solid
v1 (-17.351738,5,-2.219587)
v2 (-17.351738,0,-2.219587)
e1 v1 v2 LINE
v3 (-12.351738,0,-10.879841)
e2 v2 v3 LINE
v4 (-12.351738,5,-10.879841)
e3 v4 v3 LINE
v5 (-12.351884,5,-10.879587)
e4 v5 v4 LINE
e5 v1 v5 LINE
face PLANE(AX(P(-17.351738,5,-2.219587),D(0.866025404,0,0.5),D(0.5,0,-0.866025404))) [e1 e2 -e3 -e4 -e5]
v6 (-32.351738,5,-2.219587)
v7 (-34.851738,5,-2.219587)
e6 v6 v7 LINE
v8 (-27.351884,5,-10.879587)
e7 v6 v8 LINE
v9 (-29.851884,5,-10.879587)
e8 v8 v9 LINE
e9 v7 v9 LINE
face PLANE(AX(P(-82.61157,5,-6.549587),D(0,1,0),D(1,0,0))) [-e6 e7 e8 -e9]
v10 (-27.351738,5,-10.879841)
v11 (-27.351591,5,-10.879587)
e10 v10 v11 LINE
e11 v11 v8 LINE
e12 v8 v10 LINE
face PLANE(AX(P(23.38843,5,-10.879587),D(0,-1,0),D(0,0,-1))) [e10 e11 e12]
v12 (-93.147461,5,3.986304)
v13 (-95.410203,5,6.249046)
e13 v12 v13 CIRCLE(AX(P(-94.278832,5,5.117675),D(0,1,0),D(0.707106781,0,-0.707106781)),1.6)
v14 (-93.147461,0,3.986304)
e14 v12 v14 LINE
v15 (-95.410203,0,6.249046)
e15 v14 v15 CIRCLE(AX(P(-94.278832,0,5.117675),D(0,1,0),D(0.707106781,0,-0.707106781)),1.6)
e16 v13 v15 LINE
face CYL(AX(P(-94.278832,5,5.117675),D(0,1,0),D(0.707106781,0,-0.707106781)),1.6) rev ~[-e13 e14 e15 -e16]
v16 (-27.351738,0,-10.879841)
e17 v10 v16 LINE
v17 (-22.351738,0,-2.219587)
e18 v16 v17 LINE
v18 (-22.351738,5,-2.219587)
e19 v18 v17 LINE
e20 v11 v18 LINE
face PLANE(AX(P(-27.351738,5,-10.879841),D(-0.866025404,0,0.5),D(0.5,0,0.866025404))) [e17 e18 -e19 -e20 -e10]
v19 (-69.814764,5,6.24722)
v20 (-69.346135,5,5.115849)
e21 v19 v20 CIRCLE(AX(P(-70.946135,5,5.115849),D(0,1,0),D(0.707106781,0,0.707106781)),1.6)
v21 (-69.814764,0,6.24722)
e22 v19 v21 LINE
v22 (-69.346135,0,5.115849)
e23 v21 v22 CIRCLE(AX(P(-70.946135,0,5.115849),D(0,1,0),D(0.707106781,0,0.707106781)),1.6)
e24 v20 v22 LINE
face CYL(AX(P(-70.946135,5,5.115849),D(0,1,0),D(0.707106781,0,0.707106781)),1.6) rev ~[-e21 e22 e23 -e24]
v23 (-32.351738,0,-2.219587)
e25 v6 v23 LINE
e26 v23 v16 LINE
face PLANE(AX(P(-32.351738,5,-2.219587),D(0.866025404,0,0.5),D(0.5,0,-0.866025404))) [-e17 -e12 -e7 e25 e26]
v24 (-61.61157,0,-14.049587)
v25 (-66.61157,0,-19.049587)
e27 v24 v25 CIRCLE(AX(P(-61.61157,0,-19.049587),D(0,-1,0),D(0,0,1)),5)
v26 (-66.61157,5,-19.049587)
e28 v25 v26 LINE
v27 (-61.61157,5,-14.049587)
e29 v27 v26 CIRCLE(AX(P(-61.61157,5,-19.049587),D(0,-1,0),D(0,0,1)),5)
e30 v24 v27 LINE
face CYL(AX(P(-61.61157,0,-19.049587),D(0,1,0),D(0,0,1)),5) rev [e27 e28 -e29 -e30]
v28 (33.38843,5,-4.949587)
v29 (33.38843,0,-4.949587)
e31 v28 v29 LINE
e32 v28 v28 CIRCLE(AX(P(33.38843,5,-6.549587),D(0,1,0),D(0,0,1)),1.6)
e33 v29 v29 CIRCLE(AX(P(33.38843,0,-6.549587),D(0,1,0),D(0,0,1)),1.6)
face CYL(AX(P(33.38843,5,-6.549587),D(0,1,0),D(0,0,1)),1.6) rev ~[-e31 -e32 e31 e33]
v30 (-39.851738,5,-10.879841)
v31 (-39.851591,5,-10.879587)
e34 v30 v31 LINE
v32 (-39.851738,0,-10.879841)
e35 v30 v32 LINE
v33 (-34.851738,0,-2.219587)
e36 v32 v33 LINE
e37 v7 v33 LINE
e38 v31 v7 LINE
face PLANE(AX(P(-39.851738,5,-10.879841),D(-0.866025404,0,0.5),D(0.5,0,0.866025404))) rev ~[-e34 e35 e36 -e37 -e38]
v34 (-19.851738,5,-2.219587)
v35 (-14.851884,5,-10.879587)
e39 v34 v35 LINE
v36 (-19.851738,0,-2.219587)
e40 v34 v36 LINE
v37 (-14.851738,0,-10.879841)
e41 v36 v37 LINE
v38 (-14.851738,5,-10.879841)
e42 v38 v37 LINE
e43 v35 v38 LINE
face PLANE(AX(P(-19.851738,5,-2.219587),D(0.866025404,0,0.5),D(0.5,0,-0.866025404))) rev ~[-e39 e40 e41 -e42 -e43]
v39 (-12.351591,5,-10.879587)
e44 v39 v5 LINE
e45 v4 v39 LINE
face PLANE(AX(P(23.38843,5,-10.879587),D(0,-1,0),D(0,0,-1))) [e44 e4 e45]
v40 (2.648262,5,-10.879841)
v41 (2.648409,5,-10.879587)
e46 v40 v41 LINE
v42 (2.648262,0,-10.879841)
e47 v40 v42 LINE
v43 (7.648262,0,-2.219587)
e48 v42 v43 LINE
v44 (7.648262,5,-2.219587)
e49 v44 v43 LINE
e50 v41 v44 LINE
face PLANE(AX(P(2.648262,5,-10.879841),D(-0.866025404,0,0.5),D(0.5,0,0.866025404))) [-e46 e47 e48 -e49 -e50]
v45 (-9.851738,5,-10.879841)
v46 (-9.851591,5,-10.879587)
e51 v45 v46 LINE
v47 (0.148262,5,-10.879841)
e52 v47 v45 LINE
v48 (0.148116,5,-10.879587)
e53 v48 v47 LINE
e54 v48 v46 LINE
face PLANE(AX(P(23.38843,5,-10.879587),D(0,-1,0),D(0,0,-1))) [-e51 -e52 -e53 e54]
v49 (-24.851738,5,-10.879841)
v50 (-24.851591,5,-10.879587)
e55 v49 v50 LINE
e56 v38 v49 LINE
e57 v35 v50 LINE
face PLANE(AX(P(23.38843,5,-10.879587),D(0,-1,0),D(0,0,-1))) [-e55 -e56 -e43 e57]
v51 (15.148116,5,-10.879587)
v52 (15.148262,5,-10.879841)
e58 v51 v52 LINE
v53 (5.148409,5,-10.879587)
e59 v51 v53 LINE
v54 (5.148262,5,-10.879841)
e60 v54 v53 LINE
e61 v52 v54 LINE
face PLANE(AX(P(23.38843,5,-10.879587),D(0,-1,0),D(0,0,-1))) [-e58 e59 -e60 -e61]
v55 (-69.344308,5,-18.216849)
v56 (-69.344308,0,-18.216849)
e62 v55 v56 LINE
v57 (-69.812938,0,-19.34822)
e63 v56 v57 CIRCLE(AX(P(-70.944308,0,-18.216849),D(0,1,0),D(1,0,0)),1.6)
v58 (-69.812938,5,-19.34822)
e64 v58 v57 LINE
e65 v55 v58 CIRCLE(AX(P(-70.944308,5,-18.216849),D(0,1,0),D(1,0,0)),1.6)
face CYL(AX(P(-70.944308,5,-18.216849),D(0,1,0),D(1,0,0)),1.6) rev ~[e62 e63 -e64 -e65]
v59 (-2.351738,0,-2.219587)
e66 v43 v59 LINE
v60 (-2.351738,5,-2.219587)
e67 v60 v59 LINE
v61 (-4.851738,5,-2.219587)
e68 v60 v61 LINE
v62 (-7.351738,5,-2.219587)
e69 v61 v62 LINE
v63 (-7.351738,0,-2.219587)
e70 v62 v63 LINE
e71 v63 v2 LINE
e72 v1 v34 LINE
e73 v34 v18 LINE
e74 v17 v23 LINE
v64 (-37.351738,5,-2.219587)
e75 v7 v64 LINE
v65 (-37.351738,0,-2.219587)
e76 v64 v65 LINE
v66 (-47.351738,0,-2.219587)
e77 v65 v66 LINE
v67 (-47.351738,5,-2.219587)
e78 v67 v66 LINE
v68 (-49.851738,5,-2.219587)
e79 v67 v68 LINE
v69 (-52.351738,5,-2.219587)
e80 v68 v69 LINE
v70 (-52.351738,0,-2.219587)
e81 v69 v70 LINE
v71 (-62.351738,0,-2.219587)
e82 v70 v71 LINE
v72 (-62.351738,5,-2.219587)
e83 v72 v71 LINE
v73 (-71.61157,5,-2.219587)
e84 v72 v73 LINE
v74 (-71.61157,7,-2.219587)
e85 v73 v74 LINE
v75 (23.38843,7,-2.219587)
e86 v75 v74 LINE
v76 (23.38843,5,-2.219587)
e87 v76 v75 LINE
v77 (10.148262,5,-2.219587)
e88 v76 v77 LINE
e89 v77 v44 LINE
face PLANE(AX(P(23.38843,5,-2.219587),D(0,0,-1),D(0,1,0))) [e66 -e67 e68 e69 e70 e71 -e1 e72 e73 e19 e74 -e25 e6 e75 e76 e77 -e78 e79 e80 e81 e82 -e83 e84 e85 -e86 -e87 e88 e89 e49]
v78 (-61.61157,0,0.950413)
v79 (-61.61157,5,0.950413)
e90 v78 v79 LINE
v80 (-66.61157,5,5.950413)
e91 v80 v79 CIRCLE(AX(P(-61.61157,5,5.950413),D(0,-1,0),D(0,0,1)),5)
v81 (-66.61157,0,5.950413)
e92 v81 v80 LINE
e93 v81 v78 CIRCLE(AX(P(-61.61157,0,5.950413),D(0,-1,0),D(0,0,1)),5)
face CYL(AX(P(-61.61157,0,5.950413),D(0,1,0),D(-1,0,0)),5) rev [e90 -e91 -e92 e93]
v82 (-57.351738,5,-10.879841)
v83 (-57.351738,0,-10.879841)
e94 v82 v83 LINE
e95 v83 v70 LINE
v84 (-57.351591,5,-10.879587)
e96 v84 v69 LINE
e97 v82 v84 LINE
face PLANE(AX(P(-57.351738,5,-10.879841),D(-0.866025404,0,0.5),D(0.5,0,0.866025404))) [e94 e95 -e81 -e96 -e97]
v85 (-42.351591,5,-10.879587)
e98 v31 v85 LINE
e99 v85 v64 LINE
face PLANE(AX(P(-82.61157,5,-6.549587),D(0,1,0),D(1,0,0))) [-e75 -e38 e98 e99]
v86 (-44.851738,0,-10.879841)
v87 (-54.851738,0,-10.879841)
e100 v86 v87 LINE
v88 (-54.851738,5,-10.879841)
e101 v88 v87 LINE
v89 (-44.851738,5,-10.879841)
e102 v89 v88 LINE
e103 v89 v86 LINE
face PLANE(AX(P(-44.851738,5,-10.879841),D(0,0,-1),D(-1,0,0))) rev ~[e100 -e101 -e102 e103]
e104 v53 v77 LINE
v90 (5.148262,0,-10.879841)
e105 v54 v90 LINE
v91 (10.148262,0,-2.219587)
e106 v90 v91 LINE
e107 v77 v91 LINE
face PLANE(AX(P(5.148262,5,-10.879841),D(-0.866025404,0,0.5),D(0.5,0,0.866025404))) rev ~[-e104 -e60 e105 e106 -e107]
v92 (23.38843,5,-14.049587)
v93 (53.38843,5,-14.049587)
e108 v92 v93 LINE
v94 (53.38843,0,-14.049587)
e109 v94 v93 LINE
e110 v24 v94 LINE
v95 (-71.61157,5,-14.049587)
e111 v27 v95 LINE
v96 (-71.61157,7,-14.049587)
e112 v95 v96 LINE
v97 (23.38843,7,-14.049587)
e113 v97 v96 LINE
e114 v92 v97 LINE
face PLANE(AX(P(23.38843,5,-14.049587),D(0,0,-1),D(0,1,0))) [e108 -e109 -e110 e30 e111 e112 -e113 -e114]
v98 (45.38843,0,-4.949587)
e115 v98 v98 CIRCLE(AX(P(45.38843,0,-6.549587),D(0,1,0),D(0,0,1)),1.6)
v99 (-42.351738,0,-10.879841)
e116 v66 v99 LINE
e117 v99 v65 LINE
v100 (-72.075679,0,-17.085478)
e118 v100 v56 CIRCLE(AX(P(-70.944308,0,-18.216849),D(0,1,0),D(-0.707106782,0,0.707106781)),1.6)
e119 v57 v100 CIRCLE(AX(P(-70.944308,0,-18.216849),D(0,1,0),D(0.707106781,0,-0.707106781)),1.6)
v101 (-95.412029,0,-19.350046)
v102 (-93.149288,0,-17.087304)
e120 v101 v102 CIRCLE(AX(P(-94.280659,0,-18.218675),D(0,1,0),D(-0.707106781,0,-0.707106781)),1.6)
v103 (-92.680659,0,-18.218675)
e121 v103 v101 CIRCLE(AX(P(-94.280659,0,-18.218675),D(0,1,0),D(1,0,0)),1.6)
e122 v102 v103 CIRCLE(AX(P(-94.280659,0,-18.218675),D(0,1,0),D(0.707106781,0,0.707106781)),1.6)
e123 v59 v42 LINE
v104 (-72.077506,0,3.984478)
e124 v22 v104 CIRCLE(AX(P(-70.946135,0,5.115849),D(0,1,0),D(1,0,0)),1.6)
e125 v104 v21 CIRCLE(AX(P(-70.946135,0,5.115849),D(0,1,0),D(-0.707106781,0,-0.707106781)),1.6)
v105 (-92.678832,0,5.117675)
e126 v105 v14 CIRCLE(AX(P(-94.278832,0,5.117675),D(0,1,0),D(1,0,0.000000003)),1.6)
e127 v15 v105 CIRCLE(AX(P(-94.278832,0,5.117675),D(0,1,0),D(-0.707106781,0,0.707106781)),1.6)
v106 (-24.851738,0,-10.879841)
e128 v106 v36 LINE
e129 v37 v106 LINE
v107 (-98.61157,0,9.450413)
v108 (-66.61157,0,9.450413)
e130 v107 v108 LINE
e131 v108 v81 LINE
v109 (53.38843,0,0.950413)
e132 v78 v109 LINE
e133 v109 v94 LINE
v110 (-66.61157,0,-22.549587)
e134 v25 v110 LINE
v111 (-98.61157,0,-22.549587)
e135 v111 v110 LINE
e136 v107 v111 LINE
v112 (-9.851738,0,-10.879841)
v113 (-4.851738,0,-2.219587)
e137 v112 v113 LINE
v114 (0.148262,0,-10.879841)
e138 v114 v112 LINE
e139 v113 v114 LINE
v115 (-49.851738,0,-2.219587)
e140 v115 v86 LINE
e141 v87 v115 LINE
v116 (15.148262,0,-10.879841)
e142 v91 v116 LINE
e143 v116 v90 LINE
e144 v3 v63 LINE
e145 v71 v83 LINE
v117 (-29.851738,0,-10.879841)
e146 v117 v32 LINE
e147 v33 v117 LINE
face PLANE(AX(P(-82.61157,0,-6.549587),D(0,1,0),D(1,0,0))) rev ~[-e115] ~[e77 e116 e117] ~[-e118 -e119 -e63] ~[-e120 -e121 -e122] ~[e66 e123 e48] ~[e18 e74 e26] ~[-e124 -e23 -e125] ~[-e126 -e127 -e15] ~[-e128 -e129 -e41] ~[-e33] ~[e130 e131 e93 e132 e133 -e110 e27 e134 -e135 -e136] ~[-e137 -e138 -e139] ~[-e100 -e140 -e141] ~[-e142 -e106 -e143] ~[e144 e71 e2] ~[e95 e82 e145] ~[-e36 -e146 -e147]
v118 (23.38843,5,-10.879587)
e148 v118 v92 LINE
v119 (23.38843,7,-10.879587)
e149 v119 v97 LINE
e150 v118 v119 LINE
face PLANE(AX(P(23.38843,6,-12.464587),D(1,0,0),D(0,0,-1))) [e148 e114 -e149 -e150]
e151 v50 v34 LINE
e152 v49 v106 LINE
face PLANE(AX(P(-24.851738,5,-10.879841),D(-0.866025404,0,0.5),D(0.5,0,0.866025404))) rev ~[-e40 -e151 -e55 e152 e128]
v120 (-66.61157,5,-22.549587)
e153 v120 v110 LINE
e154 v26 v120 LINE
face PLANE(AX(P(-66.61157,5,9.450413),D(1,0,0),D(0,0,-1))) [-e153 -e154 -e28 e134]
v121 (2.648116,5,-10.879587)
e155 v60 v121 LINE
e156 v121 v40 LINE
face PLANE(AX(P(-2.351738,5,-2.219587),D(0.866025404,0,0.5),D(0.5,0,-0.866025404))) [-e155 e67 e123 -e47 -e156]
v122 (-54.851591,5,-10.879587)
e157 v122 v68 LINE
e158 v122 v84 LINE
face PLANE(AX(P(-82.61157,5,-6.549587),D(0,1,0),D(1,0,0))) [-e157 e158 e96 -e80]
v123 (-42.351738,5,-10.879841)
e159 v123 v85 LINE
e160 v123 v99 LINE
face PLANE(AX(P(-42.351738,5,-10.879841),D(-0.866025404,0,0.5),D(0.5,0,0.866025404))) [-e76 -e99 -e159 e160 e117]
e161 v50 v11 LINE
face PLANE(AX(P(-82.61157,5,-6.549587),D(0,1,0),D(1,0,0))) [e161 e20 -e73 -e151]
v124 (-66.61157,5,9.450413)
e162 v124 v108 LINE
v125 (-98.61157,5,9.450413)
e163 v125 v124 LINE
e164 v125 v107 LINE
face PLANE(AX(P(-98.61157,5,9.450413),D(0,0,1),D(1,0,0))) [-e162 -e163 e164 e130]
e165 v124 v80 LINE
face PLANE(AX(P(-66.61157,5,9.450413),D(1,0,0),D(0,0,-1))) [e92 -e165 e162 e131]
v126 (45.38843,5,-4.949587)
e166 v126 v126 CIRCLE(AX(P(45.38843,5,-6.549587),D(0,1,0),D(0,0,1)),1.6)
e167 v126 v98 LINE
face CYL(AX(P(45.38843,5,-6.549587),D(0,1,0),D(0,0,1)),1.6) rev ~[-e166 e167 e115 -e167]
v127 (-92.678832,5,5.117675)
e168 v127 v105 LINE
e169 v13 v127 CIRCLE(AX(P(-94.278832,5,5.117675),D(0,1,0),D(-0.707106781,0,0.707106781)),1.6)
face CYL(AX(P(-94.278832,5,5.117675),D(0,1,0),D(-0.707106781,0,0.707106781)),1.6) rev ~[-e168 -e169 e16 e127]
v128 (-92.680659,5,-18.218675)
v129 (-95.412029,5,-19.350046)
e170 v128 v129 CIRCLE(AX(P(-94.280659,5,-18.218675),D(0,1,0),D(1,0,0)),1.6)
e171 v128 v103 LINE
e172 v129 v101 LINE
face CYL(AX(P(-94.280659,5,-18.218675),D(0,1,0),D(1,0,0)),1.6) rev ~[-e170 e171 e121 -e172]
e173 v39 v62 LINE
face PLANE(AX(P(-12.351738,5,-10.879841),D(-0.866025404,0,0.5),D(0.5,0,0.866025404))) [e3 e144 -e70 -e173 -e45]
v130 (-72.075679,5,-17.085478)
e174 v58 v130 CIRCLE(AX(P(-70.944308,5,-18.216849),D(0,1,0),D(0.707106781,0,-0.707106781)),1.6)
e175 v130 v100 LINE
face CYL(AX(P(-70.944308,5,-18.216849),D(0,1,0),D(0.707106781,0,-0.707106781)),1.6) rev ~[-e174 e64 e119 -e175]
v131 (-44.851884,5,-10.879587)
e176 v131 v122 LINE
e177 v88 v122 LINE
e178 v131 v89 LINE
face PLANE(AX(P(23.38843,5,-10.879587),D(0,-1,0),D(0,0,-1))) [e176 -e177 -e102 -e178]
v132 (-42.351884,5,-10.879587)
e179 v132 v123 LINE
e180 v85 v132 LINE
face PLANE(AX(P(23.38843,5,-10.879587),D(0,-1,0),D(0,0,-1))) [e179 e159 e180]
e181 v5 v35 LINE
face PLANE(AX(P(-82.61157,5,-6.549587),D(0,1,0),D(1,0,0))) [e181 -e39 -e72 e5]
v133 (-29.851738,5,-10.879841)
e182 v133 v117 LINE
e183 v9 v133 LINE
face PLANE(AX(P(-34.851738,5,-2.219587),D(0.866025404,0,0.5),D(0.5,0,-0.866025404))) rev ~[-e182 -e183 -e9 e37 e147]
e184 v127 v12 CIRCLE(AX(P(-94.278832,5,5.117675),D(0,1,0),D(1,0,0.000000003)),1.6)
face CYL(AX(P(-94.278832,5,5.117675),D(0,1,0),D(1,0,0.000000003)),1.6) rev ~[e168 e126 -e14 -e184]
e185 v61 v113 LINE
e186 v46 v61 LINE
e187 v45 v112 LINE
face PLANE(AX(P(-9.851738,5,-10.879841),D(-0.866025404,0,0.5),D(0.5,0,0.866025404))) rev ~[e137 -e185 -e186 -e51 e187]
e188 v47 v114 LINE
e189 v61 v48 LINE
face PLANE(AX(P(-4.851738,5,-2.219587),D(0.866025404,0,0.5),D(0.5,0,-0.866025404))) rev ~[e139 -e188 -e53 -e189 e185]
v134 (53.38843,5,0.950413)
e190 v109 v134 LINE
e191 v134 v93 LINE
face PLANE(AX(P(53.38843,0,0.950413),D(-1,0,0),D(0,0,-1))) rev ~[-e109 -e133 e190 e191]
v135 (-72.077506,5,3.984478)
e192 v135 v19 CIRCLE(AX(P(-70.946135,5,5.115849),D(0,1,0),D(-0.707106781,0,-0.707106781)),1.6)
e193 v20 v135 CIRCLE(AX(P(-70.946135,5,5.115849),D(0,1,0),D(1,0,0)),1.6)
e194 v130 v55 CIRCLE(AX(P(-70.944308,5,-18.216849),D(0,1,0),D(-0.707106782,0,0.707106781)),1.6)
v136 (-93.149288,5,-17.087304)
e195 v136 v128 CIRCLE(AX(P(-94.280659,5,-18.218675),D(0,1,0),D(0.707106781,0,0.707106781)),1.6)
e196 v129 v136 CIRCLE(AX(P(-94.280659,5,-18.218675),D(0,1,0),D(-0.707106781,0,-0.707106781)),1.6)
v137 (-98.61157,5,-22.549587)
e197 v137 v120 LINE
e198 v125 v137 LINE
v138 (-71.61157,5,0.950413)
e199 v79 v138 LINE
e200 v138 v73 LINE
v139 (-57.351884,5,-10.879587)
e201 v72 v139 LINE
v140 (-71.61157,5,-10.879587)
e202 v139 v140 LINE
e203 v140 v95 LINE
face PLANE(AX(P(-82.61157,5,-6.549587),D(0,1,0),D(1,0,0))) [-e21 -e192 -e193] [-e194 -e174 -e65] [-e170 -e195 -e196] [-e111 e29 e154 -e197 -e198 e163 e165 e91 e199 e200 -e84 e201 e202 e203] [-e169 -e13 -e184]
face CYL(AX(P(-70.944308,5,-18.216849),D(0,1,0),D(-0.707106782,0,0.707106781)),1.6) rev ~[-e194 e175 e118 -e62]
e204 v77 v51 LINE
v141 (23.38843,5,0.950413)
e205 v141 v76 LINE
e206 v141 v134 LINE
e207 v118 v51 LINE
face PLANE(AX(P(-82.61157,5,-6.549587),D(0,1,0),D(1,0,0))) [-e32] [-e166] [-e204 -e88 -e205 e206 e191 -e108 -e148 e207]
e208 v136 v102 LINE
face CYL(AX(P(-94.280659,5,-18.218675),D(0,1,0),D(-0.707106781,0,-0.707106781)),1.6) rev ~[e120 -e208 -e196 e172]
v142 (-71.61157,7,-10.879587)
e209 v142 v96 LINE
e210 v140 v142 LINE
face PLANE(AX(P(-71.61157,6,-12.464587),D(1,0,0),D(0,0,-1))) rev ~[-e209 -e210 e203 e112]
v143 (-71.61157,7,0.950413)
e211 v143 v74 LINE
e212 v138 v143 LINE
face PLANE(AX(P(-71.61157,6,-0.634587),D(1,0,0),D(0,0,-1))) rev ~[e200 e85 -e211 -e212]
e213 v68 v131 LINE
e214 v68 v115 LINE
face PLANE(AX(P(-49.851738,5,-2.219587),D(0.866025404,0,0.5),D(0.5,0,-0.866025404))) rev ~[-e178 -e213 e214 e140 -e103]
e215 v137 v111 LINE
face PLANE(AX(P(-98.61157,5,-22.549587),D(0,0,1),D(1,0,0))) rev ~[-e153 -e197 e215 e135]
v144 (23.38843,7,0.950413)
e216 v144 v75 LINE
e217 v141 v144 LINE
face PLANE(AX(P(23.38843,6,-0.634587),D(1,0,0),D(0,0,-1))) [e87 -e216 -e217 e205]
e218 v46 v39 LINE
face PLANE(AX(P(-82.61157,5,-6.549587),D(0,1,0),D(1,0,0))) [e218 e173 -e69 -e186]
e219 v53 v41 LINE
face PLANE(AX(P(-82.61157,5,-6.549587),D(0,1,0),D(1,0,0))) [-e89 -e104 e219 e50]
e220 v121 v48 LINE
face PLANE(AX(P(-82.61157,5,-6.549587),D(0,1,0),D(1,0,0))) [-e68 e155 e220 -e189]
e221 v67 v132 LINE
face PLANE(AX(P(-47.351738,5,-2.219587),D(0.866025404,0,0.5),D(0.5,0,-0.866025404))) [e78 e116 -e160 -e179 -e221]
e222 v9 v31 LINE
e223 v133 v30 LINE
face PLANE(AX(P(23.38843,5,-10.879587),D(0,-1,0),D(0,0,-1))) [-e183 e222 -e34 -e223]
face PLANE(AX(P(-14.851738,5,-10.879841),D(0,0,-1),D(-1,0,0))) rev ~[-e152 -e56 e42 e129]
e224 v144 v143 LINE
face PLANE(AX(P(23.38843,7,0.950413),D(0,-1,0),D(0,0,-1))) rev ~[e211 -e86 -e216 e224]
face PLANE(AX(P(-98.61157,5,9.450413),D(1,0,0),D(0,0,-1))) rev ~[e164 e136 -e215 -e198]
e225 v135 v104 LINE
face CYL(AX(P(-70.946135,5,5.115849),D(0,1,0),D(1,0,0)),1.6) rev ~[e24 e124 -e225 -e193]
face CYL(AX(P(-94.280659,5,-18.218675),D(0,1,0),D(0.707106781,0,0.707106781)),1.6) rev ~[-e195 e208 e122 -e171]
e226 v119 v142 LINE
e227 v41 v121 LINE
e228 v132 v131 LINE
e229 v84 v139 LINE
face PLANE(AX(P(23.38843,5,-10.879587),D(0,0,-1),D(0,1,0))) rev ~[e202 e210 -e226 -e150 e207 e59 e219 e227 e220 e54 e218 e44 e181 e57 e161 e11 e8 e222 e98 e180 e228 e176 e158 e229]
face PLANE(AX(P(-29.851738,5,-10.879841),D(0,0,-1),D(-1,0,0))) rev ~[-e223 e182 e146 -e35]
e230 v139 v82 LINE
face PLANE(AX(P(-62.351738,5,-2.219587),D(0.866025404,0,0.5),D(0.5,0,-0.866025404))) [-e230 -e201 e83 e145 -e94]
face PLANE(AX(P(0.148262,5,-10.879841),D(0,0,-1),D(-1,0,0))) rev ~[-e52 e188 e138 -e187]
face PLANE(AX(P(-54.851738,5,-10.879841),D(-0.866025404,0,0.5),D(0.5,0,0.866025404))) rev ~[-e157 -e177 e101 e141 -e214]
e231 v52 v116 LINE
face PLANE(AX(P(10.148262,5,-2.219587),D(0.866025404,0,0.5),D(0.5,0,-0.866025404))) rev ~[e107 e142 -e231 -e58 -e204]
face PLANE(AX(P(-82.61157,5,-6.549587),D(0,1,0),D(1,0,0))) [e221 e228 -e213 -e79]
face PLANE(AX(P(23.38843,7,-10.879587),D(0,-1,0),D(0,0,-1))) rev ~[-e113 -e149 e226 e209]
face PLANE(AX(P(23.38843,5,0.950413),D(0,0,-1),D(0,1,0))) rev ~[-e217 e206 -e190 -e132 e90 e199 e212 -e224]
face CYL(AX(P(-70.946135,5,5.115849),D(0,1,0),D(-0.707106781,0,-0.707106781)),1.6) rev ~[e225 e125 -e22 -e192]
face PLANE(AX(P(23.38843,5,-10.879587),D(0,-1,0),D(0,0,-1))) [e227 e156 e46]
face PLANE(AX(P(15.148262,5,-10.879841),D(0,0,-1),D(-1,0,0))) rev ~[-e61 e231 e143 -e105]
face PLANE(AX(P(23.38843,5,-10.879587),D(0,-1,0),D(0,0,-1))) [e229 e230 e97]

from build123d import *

# Parameters (mm, degrees)
SKETCH_1_W          = 120
SKETCH_1_H          = 15
EXTRUDE_1_DEPTH     = 5
SKETCH_2_R          = 1.6
CUT_EXTRUDE_1_DEPTH = 10
SKETCH_3_W          = 32
SKETCH_3_H          = 32
EXTRUDE_2_DEPTH     = 5
CUT_EXTRUDE_2_DEPTH = 7.5
FILLET_2_R          = 5
FILLET_4_R          = 5
CUT_EXTRUDE_3_DEPTH = 10
SKETCH_12_W         = 3.17
SKETCH_12_H         = 2
EXTRUDE_4_DEPTH     = 95


with BuildPart() as part:
    # Эскиз1 → Бобышка-Вытянуть1 (new body)
    with BuildSketch(Plane(origin=(0, 0, 0), x_dir=(1, 0, 0), z_dir=(0, 1, 0))):
        with Locations((-6.611570248, 6.549586777)):
            Rectangle(SKETCH_1_W, SKETCH_1_H)
    extrude(amount=EXTRUDE_1_DEPTH)

    # Эскиз2 → Вырез-Вытянуть1 (cut)
    with BuildSketch(Plane(origin=(0, 5, 0), x_dir=(1, 0, 0), z_dir=(0, 1, 0))):
        with Locations(Location((45.388429752, 6.549586777, 0), (0, 0, 270))):
            Circle(SKETCH_2_R)
        with Locations(Location((33.388429752, 6.549586777, 0), (0, 0, 270))):
            Circle(SKETCH_2_R)
    extrude(amount=-CUT_EXTRUDE_1_DEPTH, mode=Mode.SUBTRACT)

    # Эскиз3 → Бобышка-Вытянуть2 (add)
    with BuildSketch(Plane(origin=(0, 5, 0), x_dir=(1, 0, 0), z_dir=(0, 1, 0))):
        with Locations((-82.611570248, 6.549586777)):
            Rectangle(SKETCH_3_W, SKETCH_3_H)
    extrude(amount=-EXTRUDE_2_DEPTH)

    # Эскиз4 → Вырез-Вытянуть2 (cut)
    with BuildSketch(Plane(origin=(0, 5, 0), x_dir=(1, 0, 0), z_dir=(0, 1, 0))):
        with BuildLine():
            ThreePointArc((-95.412029446, 19.350045975), (-95.412029446, 17.087304275), (-93.149287746, 17.087304275))
            Line((-93.149287746, 17.087304275), (-95.412029446, 19.350045975))
        make_face()
        with BuildLine():
            Line((-95.412029446, 19.350045975), (-93.149287746, 17.087304275))
            ThreePointArc((-93.149287746, 17.087304275), (-92.802451344, 17.606381633), (-92.680658596, 18.218675125))
            ThreePointArc((-92.680658596, 18.218675125), (-93.668365104, 19.696882377), (-95.412029446, 19.350045975))
        make_face()
        with BuildLine():
            ThreePointArc((-69.812937508, 19.348219516), (-72.075679208, 19.348219516), (-72.075679208, 17.085477817))
            Line((-72.075679208, 17.085477817), (-69.812937508, 19.348219516))
        make_face()
        with BuildLine():
            Line((-69.812937508, 19.348219516), (-72.075679208, 17.085477817))
            ThreePointArc((-72.075679208, 17.085477817), (-70.332014867, 16.738641414), (-69.344308358, 18.216848666))
            ThreePointArc((-69.344308358, 18.216848666), (-69.466101106, 18.829142158), (-69.812937508, 19.348219516))
        make_face()
        with BuildLine():
            ThreePointArc((-93.147461288, -3.986304263), (-95.410202987, -3.986304263), (-95.410202987, -6.249045963))
            Line((-95.410202987, -6.249045963), (-93.147461288, -3.986304263))
        make_face()
        with BuildLine():
            Line((-93.147461288, -3.986304263), (-95.410202987, -6.249045963))
            ThreePointArc((-95.410202987, -6.249045963), (-93.666538646, -6.595882365), (-92.678832138, -5.117675113))
            ThreePointArc((-92.678832138, -5.117675113), (-92.800624885, -4.505381621), (-93.147461288, -3.986304263))
        make_face()
        with BuildLine():
            ThreePointArc((-69.346134817, -5.115848654), (-70.333841325, -3.637641402), (-72.077505667, -3.984477805))
            Line((-72.077505667, -3.984477805), (-69.814763967, -6.247219504))
            ThreePointArc((-69.814763967, -6.247219504), (-69.467927565, -5.728142146), (-69.346134817, -5.115848654))
        make_face()
        with BuildLine():
            Line((-69.814763967, -6.247219504), (-72.077505667, -3.984477805))
            ThreePointArc((-72.077505667, -3.984477805), (-72.077505667, -6.247219504), (-69.814763967, -6.247219504))
        make_face()
    extrude(amount=-CUT_EXTRUDE_2_DEPTH, mode=Mode.SUBTRACT)

    # Скругление2
    fillet_2_edges = [part.edges().sort_by_distance(p)[0] for p in [
        (-66.611570248, 2.5, 0.950413223),
    ]]
    fillet(fillet_2_edges, radius=FILLET_2_R)

    # Скругление4
    fillet_4_edges = [part.edges().sort_by_distance(p)[0] for p in [
        (-66.611570248, 2.5, -14.049586777),
    ]]
    fillet(fillet_4_edges, radius=FILLET_4_R)

    # Эскиз6 → Вырез-Вытянуть3 (cut)
    with BuildSketch(Plane(origin=(0, 5, 0), x_dir=(1, 0, 0), z_dir=(0, 1, 0))):
        Polygon((-62.351737512, 2.219586777), (-57.351737512, 10.879840815), (-52.351737512, 2.219586777), align=None)
        Polygon((-47.351737512, 2.219586777), (-42.351737512, 10.879840815), (-37.351737512, 2.219586777), align=None)
        Polygon((-32.351737512, 2.219586777), (-27.351737512, 10.879840815), (-22.351737512, 2.219586777), align=None)
        Polygon((-17.351737512, 2.219586777), (-12.351737512, 10.879840815), (-7.351737512, 2.219586777), align=None)
        Polygon((-2.351737512, 2.219586777), (2.648262488, 10.879840815), (7.648262488, 2.219586777), align=None)
        Polygon((-54.851737512, 10.879840815), (-49.851737512, 2.219586777), (-44.851737512, 10.879840815), align=None)
        Polygon((-39.851737512, 10.879840815), (-34.851737512, 2.219586777), (-29.851737512, 10.879840815), align=None)
        Polygon((-24.851737512, 10.879840815), (-19.851737512, 2.219586777), (-14.851737512, 10.879840815), align=None)
        Polygon((-9.851737512, 10.879840815), (-4.851737512, 2.219586777), (0.148262488, 10.879840815), align=None)
        Polygon((5.148262488, 10.879840815), (10.148262488, 2.219586777), (15.148262488, 10.879840815), align=None)
    extrude(amount=-CUT_EXTRUDE_3_DEPTH, mode=Mode.SUBTRACT)

    # Эскиз12 → Бобышка-Вытянуть4 (add)
    with BuildSketch(Plane(origin=(23.388429752, 0, 0), x_dir=(0, 0, -1), z_dir=(1, 0, 0))):
        with Locations((0.634586777, 6)):
            Rectangle(SKETCH_12_W, SKETCH_12_H)
        with Locations((12.464586777, 6)):
            Rectangle(SKETCH_12_W, SKETCH_12_H)
    extrude(amount=-EXTRUDE_4_DEPTH)


solid = part.part
